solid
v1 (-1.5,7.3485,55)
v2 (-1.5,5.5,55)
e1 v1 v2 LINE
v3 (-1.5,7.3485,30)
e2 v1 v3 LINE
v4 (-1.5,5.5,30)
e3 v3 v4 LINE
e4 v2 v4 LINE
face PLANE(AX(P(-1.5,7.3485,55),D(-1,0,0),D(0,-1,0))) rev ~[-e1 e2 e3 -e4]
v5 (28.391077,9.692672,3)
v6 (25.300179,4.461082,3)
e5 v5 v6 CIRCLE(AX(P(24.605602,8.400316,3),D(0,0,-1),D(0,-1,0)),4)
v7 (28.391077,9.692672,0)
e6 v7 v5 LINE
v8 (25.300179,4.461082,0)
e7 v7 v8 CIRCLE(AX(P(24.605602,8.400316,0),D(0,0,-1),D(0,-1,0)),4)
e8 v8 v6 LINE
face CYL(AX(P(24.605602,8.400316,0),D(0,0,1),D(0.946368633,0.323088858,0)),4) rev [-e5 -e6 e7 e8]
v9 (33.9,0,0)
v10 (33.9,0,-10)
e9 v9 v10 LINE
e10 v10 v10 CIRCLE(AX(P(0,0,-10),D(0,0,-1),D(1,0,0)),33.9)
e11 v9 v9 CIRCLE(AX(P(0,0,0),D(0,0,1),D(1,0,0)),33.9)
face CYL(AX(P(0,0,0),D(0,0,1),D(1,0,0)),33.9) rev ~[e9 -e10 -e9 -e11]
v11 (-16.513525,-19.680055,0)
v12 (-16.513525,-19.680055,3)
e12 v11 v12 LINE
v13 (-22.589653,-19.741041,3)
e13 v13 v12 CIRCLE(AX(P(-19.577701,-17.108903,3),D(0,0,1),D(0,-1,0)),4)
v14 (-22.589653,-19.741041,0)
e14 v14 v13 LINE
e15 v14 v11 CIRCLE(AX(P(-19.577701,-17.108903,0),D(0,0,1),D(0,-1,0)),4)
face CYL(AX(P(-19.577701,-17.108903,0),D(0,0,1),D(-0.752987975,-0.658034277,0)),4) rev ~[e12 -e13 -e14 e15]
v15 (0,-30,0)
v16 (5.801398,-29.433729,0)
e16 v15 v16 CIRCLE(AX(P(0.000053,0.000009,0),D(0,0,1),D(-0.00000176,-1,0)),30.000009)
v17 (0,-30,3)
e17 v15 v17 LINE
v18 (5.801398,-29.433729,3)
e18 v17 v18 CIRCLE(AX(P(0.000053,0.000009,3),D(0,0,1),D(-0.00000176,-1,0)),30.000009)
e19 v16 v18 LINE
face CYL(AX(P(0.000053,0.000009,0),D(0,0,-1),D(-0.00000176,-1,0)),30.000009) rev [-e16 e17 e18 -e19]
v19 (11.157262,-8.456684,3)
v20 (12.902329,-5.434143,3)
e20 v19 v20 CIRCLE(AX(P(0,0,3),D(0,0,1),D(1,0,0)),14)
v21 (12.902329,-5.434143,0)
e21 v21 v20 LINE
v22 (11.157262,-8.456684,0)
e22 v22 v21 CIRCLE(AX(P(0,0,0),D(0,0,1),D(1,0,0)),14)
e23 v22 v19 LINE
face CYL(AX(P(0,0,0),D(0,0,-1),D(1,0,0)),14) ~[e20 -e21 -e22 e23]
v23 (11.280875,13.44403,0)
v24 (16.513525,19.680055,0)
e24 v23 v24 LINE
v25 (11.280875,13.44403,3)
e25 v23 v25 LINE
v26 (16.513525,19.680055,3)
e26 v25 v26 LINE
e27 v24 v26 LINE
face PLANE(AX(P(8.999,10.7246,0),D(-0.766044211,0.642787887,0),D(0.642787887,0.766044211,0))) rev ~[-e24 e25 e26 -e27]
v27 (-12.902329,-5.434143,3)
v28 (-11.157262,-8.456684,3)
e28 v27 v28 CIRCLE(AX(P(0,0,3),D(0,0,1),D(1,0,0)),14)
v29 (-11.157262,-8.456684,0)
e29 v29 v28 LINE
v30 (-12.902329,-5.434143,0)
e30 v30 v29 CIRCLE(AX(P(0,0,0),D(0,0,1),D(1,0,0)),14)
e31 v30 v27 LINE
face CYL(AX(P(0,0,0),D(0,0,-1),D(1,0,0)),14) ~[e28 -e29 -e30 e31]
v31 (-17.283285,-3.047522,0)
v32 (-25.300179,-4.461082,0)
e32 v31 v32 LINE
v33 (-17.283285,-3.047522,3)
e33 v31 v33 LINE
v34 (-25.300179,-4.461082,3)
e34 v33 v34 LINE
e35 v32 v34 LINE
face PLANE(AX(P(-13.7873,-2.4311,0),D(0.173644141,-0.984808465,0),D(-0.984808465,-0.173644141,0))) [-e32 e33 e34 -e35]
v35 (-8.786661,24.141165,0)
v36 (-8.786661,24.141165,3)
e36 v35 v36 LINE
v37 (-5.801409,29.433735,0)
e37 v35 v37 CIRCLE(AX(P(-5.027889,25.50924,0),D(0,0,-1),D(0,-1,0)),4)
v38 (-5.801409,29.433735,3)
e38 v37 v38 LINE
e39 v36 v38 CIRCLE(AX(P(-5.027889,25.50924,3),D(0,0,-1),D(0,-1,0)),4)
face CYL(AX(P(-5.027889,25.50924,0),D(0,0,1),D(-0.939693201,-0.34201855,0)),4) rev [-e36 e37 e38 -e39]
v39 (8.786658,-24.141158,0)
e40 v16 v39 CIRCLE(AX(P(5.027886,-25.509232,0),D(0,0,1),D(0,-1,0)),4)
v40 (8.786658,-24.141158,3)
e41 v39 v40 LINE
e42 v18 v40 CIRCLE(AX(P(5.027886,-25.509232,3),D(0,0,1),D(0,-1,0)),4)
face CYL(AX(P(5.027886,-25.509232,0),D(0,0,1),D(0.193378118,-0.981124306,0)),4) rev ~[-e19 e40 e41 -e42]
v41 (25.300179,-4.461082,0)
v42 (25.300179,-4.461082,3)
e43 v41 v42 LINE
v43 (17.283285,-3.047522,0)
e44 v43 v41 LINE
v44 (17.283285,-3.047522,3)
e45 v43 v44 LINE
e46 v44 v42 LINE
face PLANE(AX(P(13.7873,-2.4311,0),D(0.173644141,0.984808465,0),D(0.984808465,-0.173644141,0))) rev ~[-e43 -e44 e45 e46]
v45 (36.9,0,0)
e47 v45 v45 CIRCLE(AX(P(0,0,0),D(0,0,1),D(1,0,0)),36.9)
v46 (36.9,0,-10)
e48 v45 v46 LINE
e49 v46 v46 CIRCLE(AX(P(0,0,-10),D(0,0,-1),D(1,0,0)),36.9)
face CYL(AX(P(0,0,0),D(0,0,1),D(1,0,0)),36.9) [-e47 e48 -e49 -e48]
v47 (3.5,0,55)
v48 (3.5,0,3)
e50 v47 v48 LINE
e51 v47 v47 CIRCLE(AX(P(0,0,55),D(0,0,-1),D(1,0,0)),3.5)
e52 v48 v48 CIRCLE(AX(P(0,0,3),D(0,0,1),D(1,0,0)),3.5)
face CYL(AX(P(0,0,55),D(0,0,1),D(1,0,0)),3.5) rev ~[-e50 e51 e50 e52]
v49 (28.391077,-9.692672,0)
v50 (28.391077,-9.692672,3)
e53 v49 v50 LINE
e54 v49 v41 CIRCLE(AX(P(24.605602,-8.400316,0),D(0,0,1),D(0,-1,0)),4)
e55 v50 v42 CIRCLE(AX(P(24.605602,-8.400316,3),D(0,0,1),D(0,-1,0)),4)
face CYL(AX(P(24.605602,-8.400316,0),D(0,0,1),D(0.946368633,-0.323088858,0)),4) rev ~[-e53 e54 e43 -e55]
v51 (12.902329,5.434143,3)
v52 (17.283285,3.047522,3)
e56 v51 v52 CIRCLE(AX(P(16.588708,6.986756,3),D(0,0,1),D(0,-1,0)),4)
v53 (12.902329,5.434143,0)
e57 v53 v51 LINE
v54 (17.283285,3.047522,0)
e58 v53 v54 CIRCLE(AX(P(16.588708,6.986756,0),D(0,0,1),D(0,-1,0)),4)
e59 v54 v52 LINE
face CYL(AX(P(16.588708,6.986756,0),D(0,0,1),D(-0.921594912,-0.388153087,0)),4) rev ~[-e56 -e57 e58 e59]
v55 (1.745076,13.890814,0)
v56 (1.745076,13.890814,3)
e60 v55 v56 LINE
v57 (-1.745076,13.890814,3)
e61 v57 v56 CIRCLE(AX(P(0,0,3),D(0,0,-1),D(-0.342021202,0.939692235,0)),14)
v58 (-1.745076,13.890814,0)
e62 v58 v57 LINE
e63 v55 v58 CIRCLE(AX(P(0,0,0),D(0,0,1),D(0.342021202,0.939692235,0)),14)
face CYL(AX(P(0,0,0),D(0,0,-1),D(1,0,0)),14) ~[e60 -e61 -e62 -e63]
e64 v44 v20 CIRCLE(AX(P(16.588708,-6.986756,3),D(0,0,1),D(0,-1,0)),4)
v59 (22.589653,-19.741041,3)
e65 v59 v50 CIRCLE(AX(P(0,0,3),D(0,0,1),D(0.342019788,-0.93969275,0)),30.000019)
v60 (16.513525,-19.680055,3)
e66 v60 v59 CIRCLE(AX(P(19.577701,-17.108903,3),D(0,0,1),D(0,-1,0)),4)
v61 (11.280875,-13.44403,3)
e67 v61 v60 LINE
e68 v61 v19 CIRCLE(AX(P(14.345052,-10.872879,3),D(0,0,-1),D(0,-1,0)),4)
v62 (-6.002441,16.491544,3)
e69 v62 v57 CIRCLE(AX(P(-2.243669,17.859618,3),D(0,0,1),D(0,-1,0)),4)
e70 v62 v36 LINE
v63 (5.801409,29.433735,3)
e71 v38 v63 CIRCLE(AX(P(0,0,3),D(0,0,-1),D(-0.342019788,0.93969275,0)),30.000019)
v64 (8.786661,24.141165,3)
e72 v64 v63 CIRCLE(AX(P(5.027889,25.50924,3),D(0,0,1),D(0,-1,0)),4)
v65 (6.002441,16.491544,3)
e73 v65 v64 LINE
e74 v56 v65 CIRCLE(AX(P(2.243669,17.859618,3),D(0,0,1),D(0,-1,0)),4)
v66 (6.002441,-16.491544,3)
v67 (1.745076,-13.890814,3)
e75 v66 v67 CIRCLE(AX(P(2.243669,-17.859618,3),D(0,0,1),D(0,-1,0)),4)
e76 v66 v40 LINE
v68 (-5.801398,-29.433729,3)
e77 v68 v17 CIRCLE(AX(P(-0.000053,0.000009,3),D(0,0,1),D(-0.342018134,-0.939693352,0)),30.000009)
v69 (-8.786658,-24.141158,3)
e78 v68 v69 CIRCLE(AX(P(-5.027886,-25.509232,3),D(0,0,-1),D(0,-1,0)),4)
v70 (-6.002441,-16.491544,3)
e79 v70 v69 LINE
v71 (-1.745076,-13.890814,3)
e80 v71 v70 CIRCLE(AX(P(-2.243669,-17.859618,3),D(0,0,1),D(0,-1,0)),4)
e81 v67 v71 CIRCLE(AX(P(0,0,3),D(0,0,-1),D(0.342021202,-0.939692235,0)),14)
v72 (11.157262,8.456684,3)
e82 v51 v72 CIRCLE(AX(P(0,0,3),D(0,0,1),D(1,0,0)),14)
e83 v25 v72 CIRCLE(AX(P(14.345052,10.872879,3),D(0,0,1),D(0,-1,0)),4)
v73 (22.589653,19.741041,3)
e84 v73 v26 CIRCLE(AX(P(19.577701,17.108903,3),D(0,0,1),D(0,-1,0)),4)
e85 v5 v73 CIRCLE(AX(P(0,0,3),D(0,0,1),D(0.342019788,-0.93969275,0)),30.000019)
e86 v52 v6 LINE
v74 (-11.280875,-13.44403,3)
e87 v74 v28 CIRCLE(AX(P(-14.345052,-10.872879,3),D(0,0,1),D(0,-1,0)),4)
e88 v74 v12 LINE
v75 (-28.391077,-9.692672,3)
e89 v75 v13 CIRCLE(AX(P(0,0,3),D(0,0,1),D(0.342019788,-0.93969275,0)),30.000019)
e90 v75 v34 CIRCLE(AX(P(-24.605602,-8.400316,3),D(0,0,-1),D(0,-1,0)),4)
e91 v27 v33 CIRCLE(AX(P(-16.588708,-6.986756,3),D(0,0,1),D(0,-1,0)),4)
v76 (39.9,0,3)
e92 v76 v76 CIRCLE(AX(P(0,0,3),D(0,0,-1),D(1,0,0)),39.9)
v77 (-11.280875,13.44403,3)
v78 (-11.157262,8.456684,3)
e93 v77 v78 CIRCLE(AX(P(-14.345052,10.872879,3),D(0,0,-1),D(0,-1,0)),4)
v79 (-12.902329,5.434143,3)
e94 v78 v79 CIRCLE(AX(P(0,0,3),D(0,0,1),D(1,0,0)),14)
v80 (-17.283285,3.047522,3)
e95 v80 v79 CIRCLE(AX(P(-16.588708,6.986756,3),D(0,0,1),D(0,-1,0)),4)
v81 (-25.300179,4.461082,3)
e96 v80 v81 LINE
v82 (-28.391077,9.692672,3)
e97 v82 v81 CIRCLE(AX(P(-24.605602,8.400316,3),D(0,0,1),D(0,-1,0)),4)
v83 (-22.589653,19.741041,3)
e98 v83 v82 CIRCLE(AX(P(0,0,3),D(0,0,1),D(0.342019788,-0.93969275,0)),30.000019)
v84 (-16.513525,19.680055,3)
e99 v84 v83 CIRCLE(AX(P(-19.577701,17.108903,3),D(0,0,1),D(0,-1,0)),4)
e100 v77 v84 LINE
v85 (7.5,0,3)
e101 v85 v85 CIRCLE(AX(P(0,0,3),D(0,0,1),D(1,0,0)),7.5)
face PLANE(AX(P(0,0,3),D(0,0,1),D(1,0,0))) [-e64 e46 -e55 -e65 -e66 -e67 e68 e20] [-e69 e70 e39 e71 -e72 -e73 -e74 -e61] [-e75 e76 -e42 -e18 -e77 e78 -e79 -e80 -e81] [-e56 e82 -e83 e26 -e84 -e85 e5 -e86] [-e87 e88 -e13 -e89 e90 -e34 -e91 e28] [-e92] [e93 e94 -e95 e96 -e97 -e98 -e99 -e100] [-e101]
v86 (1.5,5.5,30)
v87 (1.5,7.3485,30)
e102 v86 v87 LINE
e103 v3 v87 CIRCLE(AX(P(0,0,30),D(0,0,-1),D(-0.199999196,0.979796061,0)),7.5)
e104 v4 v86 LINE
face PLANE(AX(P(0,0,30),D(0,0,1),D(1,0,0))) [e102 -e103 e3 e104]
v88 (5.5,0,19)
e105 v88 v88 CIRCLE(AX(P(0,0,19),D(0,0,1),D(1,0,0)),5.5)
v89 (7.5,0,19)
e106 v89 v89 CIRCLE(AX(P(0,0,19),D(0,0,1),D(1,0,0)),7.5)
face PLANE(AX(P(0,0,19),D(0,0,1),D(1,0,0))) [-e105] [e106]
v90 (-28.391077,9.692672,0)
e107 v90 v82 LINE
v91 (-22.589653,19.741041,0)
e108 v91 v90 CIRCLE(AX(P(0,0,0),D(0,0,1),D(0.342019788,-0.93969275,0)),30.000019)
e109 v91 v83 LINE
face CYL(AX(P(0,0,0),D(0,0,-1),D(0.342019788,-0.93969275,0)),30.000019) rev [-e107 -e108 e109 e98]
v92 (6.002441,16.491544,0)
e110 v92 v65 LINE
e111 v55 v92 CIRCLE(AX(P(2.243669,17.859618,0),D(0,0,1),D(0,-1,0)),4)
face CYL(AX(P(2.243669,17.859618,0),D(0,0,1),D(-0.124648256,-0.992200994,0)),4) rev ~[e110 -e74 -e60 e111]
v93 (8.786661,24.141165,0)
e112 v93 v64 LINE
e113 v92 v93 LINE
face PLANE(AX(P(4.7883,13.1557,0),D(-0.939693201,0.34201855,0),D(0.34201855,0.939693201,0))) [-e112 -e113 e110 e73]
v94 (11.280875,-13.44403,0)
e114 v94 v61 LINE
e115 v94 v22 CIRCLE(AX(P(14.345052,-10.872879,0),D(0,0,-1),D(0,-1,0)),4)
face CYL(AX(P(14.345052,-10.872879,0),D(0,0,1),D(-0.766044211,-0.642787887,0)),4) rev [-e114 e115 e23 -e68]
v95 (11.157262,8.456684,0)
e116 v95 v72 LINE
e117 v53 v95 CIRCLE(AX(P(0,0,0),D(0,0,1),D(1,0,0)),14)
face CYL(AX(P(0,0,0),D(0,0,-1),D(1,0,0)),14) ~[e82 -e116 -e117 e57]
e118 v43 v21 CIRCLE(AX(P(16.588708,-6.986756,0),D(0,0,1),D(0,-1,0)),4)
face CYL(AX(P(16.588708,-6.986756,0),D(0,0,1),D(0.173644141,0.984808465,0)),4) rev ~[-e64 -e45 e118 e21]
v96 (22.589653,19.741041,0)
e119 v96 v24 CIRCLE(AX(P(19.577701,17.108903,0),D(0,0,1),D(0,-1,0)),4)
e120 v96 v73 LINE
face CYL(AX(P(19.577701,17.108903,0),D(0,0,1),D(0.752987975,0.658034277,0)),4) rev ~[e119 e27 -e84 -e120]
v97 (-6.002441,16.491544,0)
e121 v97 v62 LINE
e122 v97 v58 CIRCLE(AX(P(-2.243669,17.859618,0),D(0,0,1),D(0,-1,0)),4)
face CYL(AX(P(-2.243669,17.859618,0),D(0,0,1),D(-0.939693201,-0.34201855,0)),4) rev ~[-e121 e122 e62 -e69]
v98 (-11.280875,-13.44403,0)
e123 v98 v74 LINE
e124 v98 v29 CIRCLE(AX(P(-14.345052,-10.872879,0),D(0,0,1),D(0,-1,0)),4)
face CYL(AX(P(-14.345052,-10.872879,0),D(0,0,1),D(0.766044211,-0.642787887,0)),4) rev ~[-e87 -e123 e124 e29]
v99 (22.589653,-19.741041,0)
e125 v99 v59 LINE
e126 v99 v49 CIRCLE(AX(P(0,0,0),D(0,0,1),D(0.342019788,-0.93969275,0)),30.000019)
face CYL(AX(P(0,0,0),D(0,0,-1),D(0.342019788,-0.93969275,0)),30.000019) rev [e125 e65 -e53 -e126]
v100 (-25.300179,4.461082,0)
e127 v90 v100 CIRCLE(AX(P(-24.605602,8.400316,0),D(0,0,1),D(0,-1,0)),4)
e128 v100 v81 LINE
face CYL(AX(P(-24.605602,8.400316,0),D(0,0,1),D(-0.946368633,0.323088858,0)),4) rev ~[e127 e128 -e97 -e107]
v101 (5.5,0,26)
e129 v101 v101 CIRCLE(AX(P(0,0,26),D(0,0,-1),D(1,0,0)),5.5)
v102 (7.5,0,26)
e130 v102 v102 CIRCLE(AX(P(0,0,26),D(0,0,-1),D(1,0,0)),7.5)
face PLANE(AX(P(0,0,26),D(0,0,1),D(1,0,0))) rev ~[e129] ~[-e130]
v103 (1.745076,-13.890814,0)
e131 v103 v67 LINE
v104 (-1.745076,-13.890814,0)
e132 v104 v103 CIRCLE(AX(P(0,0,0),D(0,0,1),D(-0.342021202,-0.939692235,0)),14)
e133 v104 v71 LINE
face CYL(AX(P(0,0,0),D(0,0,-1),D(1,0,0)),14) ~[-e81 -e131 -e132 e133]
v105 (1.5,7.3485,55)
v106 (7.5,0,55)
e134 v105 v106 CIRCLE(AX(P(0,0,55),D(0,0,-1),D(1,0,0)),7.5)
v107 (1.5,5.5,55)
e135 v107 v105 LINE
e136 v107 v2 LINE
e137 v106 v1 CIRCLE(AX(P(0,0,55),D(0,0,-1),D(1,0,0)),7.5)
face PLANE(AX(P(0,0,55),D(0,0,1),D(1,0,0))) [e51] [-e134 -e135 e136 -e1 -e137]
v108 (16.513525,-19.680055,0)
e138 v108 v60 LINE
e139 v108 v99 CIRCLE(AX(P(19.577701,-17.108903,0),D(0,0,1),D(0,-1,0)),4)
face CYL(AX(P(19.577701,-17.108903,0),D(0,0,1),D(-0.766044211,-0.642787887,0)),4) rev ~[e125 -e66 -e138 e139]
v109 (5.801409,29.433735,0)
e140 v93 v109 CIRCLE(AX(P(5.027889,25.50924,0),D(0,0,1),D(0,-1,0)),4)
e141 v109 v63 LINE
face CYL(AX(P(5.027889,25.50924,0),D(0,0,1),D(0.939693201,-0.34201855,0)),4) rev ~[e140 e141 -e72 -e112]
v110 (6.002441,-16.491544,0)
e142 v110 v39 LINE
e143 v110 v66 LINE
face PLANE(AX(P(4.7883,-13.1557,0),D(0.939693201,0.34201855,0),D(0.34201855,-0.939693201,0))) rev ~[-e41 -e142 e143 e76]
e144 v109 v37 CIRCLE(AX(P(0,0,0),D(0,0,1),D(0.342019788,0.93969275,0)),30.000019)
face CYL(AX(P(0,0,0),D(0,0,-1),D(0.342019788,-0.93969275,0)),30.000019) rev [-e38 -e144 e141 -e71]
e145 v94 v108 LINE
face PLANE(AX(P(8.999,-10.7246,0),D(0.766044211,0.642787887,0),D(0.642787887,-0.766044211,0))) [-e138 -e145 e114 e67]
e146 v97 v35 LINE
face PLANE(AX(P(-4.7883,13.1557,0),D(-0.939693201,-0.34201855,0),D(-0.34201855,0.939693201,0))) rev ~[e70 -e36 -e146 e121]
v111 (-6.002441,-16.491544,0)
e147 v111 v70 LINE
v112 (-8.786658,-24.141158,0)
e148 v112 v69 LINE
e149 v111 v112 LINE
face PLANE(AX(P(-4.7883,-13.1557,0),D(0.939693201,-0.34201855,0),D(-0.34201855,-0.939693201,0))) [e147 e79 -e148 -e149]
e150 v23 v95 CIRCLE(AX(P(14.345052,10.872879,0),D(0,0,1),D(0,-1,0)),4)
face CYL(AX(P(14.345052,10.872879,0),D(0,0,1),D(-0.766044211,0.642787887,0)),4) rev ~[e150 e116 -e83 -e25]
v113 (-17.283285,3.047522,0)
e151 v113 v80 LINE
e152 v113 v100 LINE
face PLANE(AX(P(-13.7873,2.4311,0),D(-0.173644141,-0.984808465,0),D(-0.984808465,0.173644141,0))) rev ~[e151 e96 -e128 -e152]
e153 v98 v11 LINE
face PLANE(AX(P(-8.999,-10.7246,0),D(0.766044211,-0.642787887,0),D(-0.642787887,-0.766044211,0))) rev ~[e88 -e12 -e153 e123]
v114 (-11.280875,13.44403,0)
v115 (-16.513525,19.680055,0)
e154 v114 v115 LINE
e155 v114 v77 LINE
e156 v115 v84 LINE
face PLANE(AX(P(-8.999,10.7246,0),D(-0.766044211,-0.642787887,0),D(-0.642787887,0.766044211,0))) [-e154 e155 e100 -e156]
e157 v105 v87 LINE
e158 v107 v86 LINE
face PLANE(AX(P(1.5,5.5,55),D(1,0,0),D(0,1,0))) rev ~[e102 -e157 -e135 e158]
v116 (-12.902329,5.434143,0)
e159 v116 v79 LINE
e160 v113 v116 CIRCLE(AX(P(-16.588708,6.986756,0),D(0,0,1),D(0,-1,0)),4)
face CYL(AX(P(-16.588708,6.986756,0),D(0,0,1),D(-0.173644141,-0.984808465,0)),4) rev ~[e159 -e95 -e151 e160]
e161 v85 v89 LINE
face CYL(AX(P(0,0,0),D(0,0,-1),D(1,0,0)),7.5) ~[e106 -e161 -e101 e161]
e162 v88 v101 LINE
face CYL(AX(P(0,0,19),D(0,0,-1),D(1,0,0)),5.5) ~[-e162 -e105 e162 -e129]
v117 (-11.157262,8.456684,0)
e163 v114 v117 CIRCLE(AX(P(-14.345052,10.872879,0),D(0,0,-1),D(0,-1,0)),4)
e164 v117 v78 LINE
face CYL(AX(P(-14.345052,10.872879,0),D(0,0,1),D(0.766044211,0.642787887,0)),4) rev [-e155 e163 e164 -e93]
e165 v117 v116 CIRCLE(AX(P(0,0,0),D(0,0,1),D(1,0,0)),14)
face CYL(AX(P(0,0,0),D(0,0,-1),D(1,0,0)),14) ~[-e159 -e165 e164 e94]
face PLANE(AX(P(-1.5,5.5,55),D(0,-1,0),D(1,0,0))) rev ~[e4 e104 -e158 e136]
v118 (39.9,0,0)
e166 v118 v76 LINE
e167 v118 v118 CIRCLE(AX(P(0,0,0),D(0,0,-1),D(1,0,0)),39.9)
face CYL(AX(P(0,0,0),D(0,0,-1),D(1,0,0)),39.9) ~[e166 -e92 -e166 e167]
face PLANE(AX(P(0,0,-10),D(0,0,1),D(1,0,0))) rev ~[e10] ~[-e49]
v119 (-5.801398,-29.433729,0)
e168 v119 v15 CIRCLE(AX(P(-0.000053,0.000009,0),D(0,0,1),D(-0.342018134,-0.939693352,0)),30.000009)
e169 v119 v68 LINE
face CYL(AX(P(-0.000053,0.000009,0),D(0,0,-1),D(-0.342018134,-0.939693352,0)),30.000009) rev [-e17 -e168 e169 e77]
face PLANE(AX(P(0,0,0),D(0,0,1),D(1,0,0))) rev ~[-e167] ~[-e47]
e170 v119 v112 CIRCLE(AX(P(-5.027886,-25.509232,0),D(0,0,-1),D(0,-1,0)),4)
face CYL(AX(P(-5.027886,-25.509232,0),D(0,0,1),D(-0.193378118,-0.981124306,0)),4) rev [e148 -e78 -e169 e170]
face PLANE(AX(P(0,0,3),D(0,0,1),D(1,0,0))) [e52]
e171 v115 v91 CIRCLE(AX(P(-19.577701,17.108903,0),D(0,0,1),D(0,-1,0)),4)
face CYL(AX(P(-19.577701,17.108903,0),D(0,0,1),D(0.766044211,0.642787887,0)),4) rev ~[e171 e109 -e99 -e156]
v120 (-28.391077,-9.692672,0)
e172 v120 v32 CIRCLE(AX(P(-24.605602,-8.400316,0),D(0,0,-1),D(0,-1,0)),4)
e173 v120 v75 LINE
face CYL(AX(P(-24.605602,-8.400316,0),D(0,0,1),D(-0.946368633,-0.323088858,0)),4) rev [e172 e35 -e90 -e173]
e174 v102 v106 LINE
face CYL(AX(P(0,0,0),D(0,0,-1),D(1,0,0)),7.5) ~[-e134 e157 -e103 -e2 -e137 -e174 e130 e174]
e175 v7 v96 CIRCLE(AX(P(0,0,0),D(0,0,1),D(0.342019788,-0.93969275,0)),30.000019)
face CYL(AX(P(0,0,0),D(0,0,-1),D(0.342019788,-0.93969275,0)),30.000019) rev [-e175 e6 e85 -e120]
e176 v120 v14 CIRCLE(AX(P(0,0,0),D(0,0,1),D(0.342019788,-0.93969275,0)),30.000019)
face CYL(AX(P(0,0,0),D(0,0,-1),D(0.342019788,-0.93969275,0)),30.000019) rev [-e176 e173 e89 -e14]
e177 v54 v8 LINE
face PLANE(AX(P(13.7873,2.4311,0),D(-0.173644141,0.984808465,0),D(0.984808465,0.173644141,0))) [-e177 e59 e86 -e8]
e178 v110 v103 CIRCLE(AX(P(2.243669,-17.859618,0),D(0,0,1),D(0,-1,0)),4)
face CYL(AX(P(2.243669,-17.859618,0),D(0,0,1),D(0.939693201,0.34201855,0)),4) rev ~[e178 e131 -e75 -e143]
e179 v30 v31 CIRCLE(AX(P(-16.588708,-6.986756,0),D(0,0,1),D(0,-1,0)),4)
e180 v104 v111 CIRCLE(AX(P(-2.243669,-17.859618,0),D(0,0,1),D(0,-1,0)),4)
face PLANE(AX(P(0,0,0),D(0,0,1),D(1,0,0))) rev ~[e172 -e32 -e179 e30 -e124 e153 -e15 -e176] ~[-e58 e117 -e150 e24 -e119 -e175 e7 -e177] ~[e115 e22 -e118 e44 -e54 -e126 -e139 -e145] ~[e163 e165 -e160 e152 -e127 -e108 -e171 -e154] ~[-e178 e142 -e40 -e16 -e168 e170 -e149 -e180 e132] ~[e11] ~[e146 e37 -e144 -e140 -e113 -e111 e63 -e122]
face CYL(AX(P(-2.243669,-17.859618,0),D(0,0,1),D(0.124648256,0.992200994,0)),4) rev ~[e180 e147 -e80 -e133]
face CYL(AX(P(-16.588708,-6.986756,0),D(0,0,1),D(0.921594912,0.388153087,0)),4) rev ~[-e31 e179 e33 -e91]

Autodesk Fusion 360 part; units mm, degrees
sketch "Sketch1" plane through (0, 0, 0) normal (0, 0, 1) x (1, 0, 0)
  circle A0 centre (0, 0) radius 33.9
  circle A1 centre (0, 0) radius 36.9
  circle A2 centre (0, 0) radius 39.9
  circle A3 centre (0, 0) radius 7.5
  circle A4 centre (0, 0) radius 14
  line L0 (0, 0) -> (4.7883, -13.1557)
  line L1 (0, 0) -> (-4.7883, -13.1557)
  line L2 (0, -60) -> (0, 60)
  line L3 (4.7883, -13.1557) -> (10.2606, -28.1908)
  line L4 (-4.7883, -13.1557) -> (-10.2606, -28.1908)
  arc A5 (10.2606, -28.1908) -> (-10.2606, -28.1908) centre (0, 0) ccw
  arc A6 (-10.2606, -28.1908) -> (0, -30) centre (0, 0) ccw
  arc A7 (0, -30) -> (10.2606, -28.1908) centre (0, 0) ccw
  line L5 (13.7873, -2.4311) -> (29.5442, -5.2094)
  line L6 (8.999, -10.7246) -> (19.2836, -22.9813)
  line L7 (8.999, 10.7246) -> (19.2836, 22.9813)
  line L8 (13.7873, 2.4311) -> (29.5442, 5.2094)
  line L9 (-4.7883, 13.1557) -> (-10.2606, 28.1908)
  line L10 (4.7883, 13.1557) -> (10.2606, 28.1908)
  line L11 (-13.7873, 2.4311) -> (-29.5442, 5.2094)
  line L12 (-8.999, 10.7246) -> (-19.2836, 22.9813)
  line L13 (-8.999, -10.7246) -> (-19.2836, -22.9813)
  line L14 (-13.7873, -2.4311) -> (-29.5442, -5.2094)
  circle A8 centre (0, 0) radius 3.5
  line L15 (-1.5, 7.3485) -> (-1.5, 5.5)
  line L16 (-1.5, 5.5) -> (1.5, 5.5)
  line L17 (1.5, 5.5) -> (1.5, 7.3485)
  circle A9 centre (0, 0) radius 5.5
  point P0 (0, 7.5)
  dimension "d1" = 67.8
  dimension "d2" = 3
  dimension "d3" = 3
  dimension "d4" = 15
  dimension "d11" = 28
  dimension "d12" = 60
  dimension "d13" = 40
  dimension "d15" = 20
  dimension "d17" = 360
  dimension "d22" = -4
  dimension "d34" = 3
  dimension "d35" = 2
  dimension "d43" = -2
extrude "Extrude1" add sketch "Sketch1" against normal blind 10 contours A0 A1 L2 | A0 A1 L2
extrude "Extrude2" add sketch "Sketch1" along normal blind 3
extrude "Extrude3" add sketch "Sketch1" along normal blind 55 contours A3 L2 L15 L16 | A3 L2 L16 L17 | A3 L0 L2 A9 | A3 L1 L2 A9 | A3 L0 L16 L17 A9 | A3 L1 L15 L16 A9 | L0 L2 A8 A9 | L1 L2 A8 A9 | L1 L2 A8 A9 | L0 L2 A8 A9 | L0 L2 A8 | L1 L2 A8 | L1 L2 A8 | L0 L2 A8
extrude "Extrude4" cut sketch "Sketch1" along normal blind 3 contours A4 L2 A5 L10 | A4 L2 A5 L9 | A4 L2 L4 A6 | A4 L2 L3 A7 | A4 A5 L7 L8 | A4 A5 L11 L12 | A4 A5 L13 L14 | A4 A5 L5 L6
fillet "Fillet1" radius 4 24 edges at (-19.2836, 22.9813, 1.5) (-29.5442, 5.2094, 1.5) (-13.7873, 2.4311, 1.5) (-8.999, 10.7246, 1.5) (-13.7873, -2.4311, 1.5) (-29.5442, -5.2094, 1.5) (-19.2836, -22.9813, 1.5) (-8.999, -10.7246, 1.5) (-4.7883, -13.1557, 1.5) (-10.2606, -28.1908, 1.5) (10.2606, -28.1908, 1.5) (4.7883, -13.1557, 1.5) (8.999, -10.7246, 1.5) (19.2836, -22.9813, 1.5) (29.5442, -5.2094, 1.5) (13.7873, -2.4311, 1.5) (29.5442, 5.2094, 1.5) (19.2836, 22.9813, 1.5) (13.7873, 2.4311, 1.5) (8.999, 10.7246, 1.5) (4.7883, 13.1557, 1.5) (10.2606, 28.1908, 1.5) (-4.7883, 13.1557, 1.5) (-10.2606, 28.1908, 1.5)
extrude "Extrude5" cut sketch "Sketch1" against normal up to surface (52 mm away) from surface at 55 contours L0 L2 A8 | L1 L2 A8 | L1 L2 A8 | L0 L2 A8
extrude "Extrude8" cut sketch "Sketch1" against normal blind 25 from surface at 55 contours A3 L2 L15 L16 | A3 L2 L16 L17
extrude "Extrude9" cut sketch "Sketch1" along normal blind 7 from surface at 19 contours A3 L2 L15 L16 | A3 L2 L16 L17 | A3 L0 L2 A9 | A3 L1 L2 A9 | A3 L0 L16 L17 A9 | A3 L1 L15 L16 A9
